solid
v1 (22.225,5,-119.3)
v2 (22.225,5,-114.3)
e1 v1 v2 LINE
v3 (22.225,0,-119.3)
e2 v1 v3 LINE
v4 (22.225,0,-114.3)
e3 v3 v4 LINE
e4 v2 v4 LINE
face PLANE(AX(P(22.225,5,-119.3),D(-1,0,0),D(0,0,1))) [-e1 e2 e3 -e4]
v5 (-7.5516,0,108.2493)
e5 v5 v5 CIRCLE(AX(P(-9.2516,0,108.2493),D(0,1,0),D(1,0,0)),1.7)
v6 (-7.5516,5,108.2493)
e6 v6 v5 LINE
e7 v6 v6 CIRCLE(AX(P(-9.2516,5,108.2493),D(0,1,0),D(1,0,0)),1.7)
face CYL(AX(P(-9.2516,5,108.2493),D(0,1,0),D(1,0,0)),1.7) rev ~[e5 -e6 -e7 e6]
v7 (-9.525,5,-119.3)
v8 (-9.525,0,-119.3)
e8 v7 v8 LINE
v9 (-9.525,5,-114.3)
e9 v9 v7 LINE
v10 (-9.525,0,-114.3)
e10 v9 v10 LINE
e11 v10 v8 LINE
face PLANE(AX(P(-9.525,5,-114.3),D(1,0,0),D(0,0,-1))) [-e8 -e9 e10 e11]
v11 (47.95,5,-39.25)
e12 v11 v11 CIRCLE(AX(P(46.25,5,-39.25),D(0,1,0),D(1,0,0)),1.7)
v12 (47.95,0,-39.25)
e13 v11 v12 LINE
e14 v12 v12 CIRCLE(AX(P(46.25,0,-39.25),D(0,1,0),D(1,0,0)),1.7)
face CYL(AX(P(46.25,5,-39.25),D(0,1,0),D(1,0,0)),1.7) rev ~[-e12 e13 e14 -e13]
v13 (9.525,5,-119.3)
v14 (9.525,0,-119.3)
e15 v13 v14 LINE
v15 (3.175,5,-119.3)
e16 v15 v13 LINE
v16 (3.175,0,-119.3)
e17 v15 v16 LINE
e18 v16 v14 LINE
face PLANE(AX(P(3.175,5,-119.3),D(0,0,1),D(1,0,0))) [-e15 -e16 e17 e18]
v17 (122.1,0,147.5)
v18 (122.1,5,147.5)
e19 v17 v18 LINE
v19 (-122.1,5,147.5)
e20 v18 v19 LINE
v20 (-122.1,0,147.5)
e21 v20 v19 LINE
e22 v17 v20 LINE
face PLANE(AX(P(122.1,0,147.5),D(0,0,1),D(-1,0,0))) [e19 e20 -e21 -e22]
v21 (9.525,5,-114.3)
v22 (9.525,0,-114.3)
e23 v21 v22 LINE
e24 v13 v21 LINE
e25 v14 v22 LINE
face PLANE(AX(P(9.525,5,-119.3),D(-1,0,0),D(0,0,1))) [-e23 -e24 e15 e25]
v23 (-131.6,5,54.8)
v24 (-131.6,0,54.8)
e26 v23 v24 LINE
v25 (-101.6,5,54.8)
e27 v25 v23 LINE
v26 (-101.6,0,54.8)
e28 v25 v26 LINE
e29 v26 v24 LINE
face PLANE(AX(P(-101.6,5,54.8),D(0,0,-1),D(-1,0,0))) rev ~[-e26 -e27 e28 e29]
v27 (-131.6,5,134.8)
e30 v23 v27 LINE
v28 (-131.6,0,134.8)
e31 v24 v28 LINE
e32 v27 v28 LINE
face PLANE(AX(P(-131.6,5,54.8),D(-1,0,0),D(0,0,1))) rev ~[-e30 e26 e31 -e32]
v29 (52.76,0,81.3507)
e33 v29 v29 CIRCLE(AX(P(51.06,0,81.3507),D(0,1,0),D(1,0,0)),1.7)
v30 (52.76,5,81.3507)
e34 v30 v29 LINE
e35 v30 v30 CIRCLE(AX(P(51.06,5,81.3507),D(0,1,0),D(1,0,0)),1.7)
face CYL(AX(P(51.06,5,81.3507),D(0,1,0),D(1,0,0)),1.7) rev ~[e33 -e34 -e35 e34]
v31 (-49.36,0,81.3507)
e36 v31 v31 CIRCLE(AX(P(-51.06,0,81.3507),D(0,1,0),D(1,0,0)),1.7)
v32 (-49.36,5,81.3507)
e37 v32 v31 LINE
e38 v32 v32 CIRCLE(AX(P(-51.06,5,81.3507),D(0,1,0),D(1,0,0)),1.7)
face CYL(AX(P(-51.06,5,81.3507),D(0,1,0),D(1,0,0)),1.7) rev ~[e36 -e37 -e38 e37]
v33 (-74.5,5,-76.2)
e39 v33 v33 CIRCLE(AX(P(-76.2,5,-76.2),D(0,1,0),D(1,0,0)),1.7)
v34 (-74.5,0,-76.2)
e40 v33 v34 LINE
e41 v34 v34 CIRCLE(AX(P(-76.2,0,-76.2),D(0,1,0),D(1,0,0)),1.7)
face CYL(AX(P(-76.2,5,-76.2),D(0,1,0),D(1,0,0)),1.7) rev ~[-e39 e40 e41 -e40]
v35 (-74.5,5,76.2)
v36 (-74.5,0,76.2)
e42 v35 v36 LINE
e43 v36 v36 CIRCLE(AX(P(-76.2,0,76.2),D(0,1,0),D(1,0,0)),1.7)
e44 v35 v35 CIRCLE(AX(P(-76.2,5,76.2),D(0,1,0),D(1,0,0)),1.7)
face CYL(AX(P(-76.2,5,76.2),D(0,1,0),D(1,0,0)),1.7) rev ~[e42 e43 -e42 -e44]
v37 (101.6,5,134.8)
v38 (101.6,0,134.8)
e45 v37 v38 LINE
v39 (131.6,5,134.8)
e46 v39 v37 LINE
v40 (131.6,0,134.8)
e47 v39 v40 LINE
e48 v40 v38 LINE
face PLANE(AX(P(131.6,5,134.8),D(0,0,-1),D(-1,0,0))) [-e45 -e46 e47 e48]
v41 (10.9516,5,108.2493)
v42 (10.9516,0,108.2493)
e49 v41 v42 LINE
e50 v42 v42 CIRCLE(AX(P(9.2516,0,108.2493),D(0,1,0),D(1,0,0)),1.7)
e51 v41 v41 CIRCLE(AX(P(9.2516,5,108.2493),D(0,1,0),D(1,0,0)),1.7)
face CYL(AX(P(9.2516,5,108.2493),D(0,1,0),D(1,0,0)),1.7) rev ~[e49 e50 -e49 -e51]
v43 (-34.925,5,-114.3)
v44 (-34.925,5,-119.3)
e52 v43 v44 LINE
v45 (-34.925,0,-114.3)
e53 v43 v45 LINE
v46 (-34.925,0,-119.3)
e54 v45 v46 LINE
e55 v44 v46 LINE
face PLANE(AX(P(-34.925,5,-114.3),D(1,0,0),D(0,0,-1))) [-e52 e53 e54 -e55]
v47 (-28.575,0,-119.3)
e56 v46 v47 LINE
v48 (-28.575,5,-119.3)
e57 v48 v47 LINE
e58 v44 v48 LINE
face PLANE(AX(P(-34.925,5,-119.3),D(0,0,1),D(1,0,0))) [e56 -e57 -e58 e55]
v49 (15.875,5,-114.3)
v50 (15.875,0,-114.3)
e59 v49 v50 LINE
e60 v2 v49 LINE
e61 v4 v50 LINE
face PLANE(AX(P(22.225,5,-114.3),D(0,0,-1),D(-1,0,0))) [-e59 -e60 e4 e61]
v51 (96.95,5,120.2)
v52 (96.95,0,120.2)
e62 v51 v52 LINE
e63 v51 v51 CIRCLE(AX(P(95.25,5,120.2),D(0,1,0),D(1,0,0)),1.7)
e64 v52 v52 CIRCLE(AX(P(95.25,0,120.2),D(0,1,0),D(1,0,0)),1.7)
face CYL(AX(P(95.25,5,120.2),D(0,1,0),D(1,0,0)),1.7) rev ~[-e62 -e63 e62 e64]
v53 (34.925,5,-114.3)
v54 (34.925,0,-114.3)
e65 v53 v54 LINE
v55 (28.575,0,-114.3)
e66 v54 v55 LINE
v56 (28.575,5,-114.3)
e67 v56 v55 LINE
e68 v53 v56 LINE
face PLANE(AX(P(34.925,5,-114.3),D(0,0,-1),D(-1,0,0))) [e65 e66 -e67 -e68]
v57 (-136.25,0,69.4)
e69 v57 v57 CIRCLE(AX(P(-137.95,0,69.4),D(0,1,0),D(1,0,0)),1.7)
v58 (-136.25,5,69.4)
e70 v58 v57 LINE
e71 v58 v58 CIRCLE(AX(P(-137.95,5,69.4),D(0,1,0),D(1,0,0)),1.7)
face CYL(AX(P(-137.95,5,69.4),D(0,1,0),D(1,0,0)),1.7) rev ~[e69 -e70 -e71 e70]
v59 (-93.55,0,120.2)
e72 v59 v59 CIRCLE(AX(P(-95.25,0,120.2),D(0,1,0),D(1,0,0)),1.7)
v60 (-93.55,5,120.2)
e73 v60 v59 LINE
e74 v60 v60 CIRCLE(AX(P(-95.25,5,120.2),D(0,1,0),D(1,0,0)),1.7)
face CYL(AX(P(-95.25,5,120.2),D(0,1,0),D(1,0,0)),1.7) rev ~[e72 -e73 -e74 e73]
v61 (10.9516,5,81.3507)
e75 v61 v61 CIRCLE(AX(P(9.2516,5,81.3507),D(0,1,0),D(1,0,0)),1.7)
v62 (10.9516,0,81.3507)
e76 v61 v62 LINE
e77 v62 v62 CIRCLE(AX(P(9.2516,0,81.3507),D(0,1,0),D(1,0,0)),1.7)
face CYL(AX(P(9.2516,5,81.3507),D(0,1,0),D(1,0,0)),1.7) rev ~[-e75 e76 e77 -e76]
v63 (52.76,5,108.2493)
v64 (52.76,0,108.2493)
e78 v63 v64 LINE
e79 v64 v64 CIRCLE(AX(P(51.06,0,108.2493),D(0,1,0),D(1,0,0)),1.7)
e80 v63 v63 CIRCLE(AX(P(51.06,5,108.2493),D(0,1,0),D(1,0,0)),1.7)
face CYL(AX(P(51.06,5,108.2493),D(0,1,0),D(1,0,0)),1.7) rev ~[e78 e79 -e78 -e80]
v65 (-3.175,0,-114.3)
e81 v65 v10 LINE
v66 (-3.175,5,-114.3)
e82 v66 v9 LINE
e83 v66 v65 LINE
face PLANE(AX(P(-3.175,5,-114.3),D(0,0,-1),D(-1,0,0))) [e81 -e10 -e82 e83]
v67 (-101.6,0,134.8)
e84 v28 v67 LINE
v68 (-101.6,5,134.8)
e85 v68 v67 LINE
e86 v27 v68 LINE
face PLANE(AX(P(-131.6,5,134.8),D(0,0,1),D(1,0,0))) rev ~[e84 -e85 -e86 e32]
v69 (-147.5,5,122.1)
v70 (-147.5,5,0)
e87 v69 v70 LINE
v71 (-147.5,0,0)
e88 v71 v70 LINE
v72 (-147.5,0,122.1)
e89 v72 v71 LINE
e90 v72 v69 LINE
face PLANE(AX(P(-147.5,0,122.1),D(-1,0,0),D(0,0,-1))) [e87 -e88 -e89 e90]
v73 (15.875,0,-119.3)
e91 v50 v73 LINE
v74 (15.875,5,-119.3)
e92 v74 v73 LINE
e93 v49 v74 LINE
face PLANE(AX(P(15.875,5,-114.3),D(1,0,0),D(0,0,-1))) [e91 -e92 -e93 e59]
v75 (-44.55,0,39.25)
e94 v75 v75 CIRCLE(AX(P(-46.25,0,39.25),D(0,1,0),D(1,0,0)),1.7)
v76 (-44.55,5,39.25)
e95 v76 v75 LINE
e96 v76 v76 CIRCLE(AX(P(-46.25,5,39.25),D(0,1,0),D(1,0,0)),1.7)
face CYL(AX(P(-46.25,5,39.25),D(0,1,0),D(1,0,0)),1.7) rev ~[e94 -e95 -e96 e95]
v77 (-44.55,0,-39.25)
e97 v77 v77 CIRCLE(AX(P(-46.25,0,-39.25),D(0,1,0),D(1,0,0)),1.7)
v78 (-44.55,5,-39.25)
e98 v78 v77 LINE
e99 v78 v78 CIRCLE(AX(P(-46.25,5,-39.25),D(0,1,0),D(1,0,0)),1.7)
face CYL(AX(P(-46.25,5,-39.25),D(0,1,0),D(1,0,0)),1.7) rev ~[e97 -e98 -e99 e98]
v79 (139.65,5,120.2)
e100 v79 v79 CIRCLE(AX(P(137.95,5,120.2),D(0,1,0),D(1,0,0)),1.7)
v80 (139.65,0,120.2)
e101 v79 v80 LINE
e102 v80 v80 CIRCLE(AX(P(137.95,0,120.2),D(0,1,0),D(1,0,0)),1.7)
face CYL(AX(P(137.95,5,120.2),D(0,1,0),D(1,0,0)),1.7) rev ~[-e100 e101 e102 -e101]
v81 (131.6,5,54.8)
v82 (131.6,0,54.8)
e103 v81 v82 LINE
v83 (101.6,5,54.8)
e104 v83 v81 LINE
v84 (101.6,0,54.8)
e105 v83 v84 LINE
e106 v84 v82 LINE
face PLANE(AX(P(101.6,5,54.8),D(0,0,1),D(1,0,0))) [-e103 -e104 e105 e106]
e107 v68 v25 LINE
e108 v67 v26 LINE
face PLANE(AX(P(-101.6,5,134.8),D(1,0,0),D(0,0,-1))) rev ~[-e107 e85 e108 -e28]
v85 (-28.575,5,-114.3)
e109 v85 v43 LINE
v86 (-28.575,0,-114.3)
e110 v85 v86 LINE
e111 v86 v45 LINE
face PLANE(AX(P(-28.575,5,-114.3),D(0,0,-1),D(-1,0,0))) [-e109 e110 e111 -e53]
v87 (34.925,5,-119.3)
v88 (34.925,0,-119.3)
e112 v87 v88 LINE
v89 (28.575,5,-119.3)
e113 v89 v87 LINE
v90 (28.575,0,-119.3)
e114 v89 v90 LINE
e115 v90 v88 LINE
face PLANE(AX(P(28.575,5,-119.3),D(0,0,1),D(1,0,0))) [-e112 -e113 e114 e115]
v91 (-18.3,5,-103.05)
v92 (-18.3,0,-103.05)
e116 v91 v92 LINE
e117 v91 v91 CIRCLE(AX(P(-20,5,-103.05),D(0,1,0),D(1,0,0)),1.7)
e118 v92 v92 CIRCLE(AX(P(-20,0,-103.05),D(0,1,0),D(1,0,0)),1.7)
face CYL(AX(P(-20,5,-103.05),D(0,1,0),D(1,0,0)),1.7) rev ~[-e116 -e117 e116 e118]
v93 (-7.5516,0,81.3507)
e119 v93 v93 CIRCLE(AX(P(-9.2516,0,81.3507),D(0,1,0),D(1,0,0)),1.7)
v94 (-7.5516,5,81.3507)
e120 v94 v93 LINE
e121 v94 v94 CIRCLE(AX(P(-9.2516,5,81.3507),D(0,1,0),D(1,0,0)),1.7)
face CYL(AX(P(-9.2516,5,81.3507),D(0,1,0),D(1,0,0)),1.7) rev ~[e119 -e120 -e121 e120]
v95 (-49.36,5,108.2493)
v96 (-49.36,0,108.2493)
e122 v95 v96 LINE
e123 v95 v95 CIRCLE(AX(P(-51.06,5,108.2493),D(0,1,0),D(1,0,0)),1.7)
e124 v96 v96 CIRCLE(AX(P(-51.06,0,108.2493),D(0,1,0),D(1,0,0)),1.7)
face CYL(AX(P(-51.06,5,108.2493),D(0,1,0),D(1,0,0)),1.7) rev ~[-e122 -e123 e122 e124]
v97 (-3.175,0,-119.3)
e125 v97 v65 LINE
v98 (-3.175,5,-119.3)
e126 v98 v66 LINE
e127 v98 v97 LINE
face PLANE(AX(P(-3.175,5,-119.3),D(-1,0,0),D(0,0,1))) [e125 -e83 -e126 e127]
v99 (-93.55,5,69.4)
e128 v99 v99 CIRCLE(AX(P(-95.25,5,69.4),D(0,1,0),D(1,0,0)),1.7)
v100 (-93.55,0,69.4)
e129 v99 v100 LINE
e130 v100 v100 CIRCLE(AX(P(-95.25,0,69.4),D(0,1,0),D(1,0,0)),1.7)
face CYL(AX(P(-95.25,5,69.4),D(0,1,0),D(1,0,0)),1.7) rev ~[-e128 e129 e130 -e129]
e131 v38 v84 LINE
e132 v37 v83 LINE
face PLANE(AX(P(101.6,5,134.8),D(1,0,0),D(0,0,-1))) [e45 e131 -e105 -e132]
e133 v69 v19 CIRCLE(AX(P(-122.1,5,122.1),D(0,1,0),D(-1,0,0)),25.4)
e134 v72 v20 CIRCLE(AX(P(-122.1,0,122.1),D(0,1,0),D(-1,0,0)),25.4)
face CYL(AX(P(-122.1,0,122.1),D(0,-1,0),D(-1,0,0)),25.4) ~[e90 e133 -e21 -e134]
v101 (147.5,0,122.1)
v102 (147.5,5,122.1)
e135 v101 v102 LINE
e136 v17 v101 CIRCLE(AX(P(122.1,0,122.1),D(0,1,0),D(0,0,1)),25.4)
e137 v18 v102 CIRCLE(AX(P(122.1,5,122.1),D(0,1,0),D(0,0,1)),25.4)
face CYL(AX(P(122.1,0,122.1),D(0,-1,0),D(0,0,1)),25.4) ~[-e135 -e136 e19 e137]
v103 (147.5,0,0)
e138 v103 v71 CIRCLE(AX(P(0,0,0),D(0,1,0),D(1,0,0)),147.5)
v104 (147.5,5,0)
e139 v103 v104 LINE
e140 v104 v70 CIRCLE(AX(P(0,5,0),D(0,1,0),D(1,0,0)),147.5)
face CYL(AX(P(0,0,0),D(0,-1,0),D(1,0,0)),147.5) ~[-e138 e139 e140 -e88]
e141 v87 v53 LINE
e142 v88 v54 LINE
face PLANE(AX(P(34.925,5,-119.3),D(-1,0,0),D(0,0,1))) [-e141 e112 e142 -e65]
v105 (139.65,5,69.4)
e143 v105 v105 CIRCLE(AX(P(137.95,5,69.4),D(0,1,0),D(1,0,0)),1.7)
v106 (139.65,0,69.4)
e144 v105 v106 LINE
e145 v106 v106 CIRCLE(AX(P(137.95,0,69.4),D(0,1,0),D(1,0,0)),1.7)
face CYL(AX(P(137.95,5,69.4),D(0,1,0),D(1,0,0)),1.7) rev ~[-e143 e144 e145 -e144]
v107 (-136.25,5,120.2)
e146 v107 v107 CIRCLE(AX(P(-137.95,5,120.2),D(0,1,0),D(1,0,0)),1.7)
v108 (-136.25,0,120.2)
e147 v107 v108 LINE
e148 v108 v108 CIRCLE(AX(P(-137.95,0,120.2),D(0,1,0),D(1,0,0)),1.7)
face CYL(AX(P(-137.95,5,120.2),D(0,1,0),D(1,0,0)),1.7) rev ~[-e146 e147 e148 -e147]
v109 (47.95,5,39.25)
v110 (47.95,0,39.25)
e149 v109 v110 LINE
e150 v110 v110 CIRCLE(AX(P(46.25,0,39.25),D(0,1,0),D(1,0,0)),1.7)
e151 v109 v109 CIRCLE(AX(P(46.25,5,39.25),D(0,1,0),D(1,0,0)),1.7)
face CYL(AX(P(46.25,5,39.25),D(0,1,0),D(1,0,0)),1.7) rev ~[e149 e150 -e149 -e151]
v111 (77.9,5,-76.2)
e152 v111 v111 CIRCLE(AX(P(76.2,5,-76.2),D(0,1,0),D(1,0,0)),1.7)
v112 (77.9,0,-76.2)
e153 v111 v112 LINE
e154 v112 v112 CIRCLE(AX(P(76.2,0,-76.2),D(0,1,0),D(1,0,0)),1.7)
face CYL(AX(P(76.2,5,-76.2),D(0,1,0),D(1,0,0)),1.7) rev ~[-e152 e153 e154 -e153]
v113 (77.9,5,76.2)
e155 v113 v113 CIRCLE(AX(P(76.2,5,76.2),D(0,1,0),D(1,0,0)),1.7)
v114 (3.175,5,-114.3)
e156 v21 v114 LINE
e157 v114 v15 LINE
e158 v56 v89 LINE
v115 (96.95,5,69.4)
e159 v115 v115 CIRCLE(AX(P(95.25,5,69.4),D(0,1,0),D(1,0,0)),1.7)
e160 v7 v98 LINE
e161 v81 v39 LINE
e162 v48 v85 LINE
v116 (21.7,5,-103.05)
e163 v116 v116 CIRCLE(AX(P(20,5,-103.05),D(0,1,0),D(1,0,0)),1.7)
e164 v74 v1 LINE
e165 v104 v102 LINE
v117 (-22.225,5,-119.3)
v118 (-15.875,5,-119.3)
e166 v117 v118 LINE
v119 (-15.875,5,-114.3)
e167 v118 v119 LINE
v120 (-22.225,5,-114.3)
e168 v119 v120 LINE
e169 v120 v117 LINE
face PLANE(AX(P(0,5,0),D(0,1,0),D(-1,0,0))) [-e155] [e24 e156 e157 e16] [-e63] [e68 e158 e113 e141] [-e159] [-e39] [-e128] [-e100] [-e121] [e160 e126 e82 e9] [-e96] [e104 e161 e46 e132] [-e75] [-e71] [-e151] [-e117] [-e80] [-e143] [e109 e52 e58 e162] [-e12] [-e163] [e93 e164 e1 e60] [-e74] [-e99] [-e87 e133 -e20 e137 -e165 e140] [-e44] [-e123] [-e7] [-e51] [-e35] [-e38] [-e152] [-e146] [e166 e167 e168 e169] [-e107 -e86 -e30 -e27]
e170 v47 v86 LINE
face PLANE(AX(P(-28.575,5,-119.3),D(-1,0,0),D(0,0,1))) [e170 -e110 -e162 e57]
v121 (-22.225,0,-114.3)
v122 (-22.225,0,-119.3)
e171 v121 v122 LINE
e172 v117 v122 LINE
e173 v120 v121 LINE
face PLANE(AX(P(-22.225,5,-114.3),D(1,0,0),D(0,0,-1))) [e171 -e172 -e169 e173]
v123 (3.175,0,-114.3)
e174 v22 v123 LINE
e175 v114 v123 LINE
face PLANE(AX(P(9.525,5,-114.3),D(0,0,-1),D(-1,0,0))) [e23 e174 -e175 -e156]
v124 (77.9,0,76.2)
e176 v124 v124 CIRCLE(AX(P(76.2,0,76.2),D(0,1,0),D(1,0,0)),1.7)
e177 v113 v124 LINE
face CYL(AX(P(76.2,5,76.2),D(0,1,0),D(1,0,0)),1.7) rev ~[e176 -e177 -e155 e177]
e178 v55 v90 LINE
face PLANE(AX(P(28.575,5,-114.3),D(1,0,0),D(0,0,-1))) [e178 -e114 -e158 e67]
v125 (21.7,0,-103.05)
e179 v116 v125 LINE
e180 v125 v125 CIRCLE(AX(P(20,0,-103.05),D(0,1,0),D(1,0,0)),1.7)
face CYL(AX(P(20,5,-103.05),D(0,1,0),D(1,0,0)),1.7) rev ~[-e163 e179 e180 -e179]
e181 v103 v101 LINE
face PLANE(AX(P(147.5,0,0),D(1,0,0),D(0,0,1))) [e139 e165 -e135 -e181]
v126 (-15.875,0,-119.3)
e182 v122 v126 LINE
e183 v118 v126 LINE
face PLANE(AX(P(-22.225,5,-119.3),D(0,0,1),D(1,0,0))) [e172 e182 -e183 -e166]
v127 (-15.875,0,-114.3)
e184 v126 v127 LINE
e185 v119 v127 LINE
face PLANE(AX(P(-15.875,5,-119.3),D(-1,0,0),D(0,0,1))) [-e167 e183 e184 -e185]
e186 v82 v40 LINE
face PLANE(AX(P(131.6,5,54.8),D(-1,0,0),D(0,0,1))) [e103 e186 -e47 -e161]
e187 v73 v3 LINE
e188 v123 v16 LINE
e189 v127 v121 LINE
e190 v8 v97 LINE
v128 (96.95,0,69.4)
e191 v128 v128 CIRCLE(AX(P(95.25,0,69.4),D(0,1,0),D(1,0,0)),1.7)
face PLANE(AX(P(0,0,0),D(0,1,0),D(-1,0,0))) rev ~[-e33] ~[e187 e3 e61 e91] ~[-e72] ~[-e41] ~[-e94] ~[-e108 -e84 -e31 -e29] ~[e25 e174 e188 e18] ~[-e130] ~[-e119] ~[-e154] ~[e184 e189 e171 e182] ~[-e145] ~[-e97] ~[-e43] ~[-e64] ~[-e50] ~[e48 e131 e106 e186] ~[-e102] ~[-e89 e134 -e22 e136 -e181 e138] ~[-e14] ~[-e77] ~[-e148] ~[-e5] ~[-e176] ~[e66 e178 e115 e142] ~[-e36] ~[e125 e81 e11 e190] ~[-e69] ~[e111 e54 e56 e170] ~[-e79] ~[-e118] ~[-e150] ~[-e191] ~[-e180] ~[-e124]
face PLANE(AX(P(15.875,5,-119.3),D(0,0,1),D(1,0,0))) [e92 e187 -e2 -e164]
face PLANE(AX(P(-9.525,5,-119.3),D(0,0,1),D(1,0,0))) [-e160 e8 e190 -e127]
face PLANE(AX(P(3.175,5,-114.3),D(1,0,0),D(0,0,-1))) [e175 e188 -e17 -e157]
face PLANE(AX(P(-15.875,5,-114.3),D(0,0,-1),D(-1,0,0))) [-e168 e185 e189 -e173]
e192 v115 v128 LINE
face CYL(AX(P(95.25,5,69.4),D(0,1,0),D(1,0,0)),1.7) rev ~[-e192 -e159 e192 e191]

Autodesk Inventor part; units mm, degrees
ref_plane "YZ Plane" through (0, 0, 0) normal (1, 0, 0) x (0, 1, 0)
ref_plane "XZ Plane" through (0, 0, 0) normal (0, 1, 0) x (-1, 0, 0)
ref_plane "XY Plane" through (0, 0, 0) normal (0, 0, 1) x (1, 0, 0)
sketch "Sketch1" plane through (0, 0, 0) normal (0, 1, 0) x (-1, 0, 0)
  arc A0 (-147.5, 0) -> (147.5, 0) centre (0, 0) ccw
  line L0 (-147.5, 0) -> (-147.5, 122.1)
  line L1 (-122.1, 147.5) -> (122.1, 147.5)
  line L2 (147.5, 122.1) -> (147.5, 0)
  arc A1 (-122.1, 147.5) -> (-147.5, 122.1) centre (-122.1, 122.1) ccw
  arc A2 (147.5, 122.1) -> (122.1, 147.5) centre (122.1, 122.1) ccw
  point P0 (-147.5, 147.5)
  point P1 (147.5, 147.5)
  dimension "d0" = 295
  dimension "d98" = 147.5
  dimension "d99" = 147.5
  dimension "d101" = 295
  dimension "d102" = 147.5
  dimension "d217" = 25.4
extrude "Extrusion1" add sketch "Sketch1" along normal blind 5
sketch "Sketch8" plane through (0, 5, 0) normal (0, 1, 0) x (1, 0, 0)
  circle A0 centre (76.2, -76.2) radius 1.7
  circle A1 centre (76.2, 76.2) radius 1.7
  circle A2 centre (-76.2, 76.2) radius 1.7
  circle A3 centre (-76.2, -76.2) radius 1.7
  arc A4 (147.5, 0) -> (-147.5, 0) centre (0, 0) ccw construction
  line L0 (0, 147.5) -> (0, -147.5) construction
  line L1 (-122.1, -147.5) -> (122.1, -147.5) construction
  line L2 (-147.5, 0) -> (-147.5, -122.1) construction
  line L3 (147.5, -122.1) -> (147.5, 0) construction
  line L4 (-147.5, 0) -> (147.5, 0) construction
  point P0 (0, 0)
  point P1 (-177, -177)
  point P2 (177, -177)
  point P3 (122.1, -147.5)
  dimension "d103" = 3.4
  dimension "d104" = 3.4
  dimension "d105" = 3.4
  dimension "d106" = 3.4
  dimension "d115" = 76.2
  dimension "d116" = 76.2
  dimension "d117" = 76.2
  dimension "d118" = 76.2
  dimension "d119" = 76.2
  dimension "d120" = 76.2
  dimension "d121" = 76.2
  dimension "d122" = 76.2
extrude "Stand-Offs" cut sketch "Sketch8" against normal through all
sketch "Sketch9" plane through (0, 5, 0) normal (0, 1, 0) x (1, 0, 0)
  line L0 (-131.6, -54.8) -> (-131.6, -134.8)
  line L1 (-131.6, -134.8) -> (-101.6, -134.8)
  line L2 (-101.6, -134.8) -> (-101.6, -54.8)
  line L3 (-101.6, -54.8) -> (-131.6, -54.8)
  circle A0 centre (-95.25, -69.4) radius 1.7
  circle A1 centre (-95.25, -120.2) radius 1.7
  circle A2 centre (-137.95, -120.2) radius 1.7
  circle A3 centre (-137.95, -69.4) radius 1.7
  arc A4 (147.5, 0) -> (-147.5, 0) centre (0, 0) ccw construction
  line L4 (0, 147.5) -> (0, -147.5) construction
  line L5 (-122.1, -147.5) -> (122.1, -147.5) construction
  line L6 (-177, -177) -> (177, -177) construction
  line L7 (-101.6, -94.8) -> (-131.6, -94.8) construction
  line L8 (131.6, -134.8) -> (101.6, -134.8)
  line L9 (101.6, -134.8) -> (101.6, -54.8)
  line L10 (101.6, -54.8) -> (131.6, -54.8)
  circle A5 centre (95.25, -69.4) radius 1.7
  circle A6 centre (95.25, -120.2) radius 1.7
  line L11 (131.6, -54.8) -> (131.6, -134.8)
  circle A7 centre (137.95, -69.4) radius 1.7
  circle A8 centre (137.95, -120.2) radius 1.7
  line L12 (101.6, -94.8) -> (131.6, -94.8) construction
  point P0 (177.1241, 0)
  point P1 (122.1, -147.5)
  dimension "d126" = 30
  dimension "d129" = 3.4
  dimension "d130" = 3.4
  dimension "d131" = 3.4
  dimension "d132" = 3.4
  dimension "d133" = 6.35
  dimension "d134" = 6.35
  dimension "d135" = 6.35
  dimension "d136" = 6.35
  dimension "d141" = 101.6
  dimension "d142" = 12.7
  dimension "d143" = 80
  dimension "d144" = 25.4
  dimension "d145" = 25.4
  dimension "d146" = 25.4
  dimension "d147" = 25.4
extrude "Wheels" cut sketch "Sketch9" against normal through all
sketch "Sketch10" plane through (0, 5, 0) normal (0, 1, 0) x (1, 0, 0)
  circle A0 centre (-51.06, -108.2493) radius 1.7
  circle A1 centre (-9.2516, -108.2493) radius 1.7
  circle A2 centre (-51.06, -81.3507) radius 1.7
  circle A3 centre (-9.2516, -81.3507) radius 1.7
  arc A4 (147.5, 0) -> (-147.5, 0) centre (0, 0) ccw construction
  line L0 (0, 147.5) -> (0, -147.5) construction
  line L1 (-122.1, -147.5) -> (122.1, -147.5) construction
  line L2 (147.5, -122.1) -> (147.5, 0) construction
  line L3 (-147.5, 0) -> (-147.5, -122.1) construction
  line L4 (147.5, 0) -> (-147.5, 0) construction
  line L5 (-131.6, -54.8) -> (-131.6, -134.8) construction
  line L6 (-131.6, -94.8) -> (131.6, -94.8) construction
  line L7 (131.6, -54.8) -> (131.6, -134.8) construction
  line L8 (-101.6, -54.8) -> (-101.6, -134.8) construction
  circle A5 centre (51.06, -108.2493) radius 1.7
  circle A6 centre (51.06, -81.3507) radius 1.7
  circle A7 centre (9.2516, -108.2493) radius 1.7
  circle A8 centre (9.2516, -81.3507) radius 1.7
  point P0 (-177, -177)
  point P1 (177, -177)
  point P2 (122.1, -147.5)
  dimension "d150" = 3.4
  dimension "d151" = 3.4
  dimension "d152" = 3.4
  dimension "d153" = 3.4
  dimension "d154" = 26.8986
  dimension "d155" = 26.8986
  dimension "d156" = 41.8084
  dimension "d157" = 41.8084
  dimension "d161" = 50.54
  dimension "d162" = 13.4493
  dimension "d163" = 13.4493
  dimension "d166" = 13.4493
  dimension "d167" = 13.4493
extrude "Motor Mount" cut sketch "Sketch10" against normal through all
sketch "Sketch11" plane through (0, 5, 0) normal (0, 1, 0) x (1, 0, 0)
  circle A0 centre (-46.25, 39.25) radius 1.7
  circle A1 centre (46.25, 39.25) radius 1.7
  circle A2 centre (46.25, -39.25) radius 1.7
  circle A3 centre (-46.25, -39.25) radius 1.7
  line L0 (-147.5, 0) -> (-147.5, -122.1) construction
  arc A4 (147.5, 0) -> (-147.5, 0) centre (0, 0) ccw construction
  line L1 (-147.5, 0) -> (147.5, 0) construction
  line L2 (0, 147.5) -> (0, -147.5) construction
  line L3 (-122.1, -147.5) -> (122.1, -147.5) construction
  point P0 (-177, -177)
  point P1 (177, -177)
  point P2 (122.1, -147.5)
  dimension "d170" = 3.4
  dimension "d171" = 3.4
  dimension "d172" = 3.4
  dimension "d173" = 3.4
  dimension "d174" = 92.5
  dimension "d175" = 92.5
  dimension "d176" = 78.5
  dimension "d177" = 78.5
  dimension "d183" = 46.25
  dimension "d184" = 39.25
  dimension "d185" = 39.25
  dimension "d186" = 46.25
  dimension "d235" = 46.25
extrude "PCB" cut sketch "Sketch11" against normal through all
sketch "Sketch12" plane through (0, 5, 0) normal (0, 1, 0) x (1, 0, 0)
  circle A0 centre (20, 103.05) radius 1.7
  circle A1 centre (-20, 103.05) radius 1.7
  line L0 (-147.5, 0) -> (-147.5, -122.1) construction
  arc A2 (147.5, 0) -> (-147.5, 0) centre (0, 0) ccw construction
  line L1 (-147.5, 0) -> (147.5, 0) construction
  arc A3 (147.5, 0) -> (-147.5, 0) centre (0, 0) ccw construction
  line L2 (0, 147.5) -> (0, -147.5) construction
  point P0 (-177, -177)
  point P1 (0, 147.5)
  dimension "d190" = 3.4
  dimension "d191" = 3.4
  dimension "d192" = 40
  dimension "d198" = 44.45
  dimension "d200" = 44.45
  dimension "d201" = 20
extrude "Ball Caster" cut sketch "Sketch12" against normal through all
sketch "Sketch13" plane through (0, 5, 0) normal (0, 1, 0) x (1, 0, 0)
  line L0 (-34.925, 119.3) -> (-28.575, 119.3)
  line L1 (-28.575, 119.3) -> (-28.575, 114.3)
  line L2 (-28.575, 114.3) -> (-34.925, 114.3)
  line L3 (-34.925, 114.3) -> (-34.925, 119.3)
  line L4 (-22.225, 119.3) -> (-15.875, 119.3)
  line L5 (-15.875, 119.3) -> (-15.875, 114.3)
  line L6 (-15.875, 114.3) -> (-22.225, 114.3)
  line L7 (-22.225, 114.3) -> (-22.225, 119.3)
  line L8 (-9.525, 119.3) -> (-3.175, 119.3)
  line L9 (-3.175, 119.3) -> (-3.175, 114.3)
  line L10 (-3.175, 114.3) -> (-9.525, 114.3)
  line L11 (-9.525, 114.3) -> (-9.525, 119.3)
  line L12 (3.175, 119.3) -> (9.525, 119.3)
  line L13 (9.525, 119.3) -> (9.525, 114.3)
  line L14 (9.525, 114.3) -> (3.175, 114.3)
  line L15 (3.175, 114.3) -> (3.175, 119.3)
  line L16 (15.875, 119.3) -> (22.225, 119.3)
  line L17 (22.225, 119.3) -> (22.225, 114.3)
  line L18 (22.225, 114.3) -> (15.875, 114.3)
  line L19 (15.875, 114.3) -> (15.875, 119.3)
  line L20 (28.575, 119.3) -> (34.925, 119.3)
  line L21 (34.925, 119.3) -> (34.925, 114.3)
  line L22 (34.925, 114.3) -> (28.575, 114.3)
  line L23 (28.575, 114.3) -> (28.575, 119.3)
  arc A0 (147.5, 0) -> (-147.5, 0) centre (0, 0) ccw construction
  line L24 (0, 147.5) -> (0, -147.5) construction
  line L25 (-122.1, -147.5) -> (122.1, -147.5) construction
  line L26 (147.5, -122.1) -> (147.5, 0) construction
  line L27 (-147.5, 0) -> (-147.5, -122.1) construction
  line L28 (147.5, 0) -> (-147.5, 0) construction
  point P0 (-177, -177)
  point P1 (177, -177)
  point P2 (122.1, -147.5)
  dimension "d204" = 5
  dimension "d205" = 6.35
  dimension "d208" = 12.7
  dimension "d213" = 114.3
  dimension "d214" = 3.175
extrude "Switch" cut sketch "Sketch13" against normal through all
equation "\"d98\" = 0.5 * d0"
equation "\"d99\" = d98"
equation "\"d101\" = d0"
equation "\"d102\" = d99"
equation "\"m3_heat_set_insert\" = 4"
equation "\"m3_clearance\" = 3.4"
equation "\"m3_heat_set_depth\" = 7"
equation "\"hardboard_thickness\" = 5"
equation "\"robot_diameter\" = 354"
properties part number "layer1_new_300mm"
